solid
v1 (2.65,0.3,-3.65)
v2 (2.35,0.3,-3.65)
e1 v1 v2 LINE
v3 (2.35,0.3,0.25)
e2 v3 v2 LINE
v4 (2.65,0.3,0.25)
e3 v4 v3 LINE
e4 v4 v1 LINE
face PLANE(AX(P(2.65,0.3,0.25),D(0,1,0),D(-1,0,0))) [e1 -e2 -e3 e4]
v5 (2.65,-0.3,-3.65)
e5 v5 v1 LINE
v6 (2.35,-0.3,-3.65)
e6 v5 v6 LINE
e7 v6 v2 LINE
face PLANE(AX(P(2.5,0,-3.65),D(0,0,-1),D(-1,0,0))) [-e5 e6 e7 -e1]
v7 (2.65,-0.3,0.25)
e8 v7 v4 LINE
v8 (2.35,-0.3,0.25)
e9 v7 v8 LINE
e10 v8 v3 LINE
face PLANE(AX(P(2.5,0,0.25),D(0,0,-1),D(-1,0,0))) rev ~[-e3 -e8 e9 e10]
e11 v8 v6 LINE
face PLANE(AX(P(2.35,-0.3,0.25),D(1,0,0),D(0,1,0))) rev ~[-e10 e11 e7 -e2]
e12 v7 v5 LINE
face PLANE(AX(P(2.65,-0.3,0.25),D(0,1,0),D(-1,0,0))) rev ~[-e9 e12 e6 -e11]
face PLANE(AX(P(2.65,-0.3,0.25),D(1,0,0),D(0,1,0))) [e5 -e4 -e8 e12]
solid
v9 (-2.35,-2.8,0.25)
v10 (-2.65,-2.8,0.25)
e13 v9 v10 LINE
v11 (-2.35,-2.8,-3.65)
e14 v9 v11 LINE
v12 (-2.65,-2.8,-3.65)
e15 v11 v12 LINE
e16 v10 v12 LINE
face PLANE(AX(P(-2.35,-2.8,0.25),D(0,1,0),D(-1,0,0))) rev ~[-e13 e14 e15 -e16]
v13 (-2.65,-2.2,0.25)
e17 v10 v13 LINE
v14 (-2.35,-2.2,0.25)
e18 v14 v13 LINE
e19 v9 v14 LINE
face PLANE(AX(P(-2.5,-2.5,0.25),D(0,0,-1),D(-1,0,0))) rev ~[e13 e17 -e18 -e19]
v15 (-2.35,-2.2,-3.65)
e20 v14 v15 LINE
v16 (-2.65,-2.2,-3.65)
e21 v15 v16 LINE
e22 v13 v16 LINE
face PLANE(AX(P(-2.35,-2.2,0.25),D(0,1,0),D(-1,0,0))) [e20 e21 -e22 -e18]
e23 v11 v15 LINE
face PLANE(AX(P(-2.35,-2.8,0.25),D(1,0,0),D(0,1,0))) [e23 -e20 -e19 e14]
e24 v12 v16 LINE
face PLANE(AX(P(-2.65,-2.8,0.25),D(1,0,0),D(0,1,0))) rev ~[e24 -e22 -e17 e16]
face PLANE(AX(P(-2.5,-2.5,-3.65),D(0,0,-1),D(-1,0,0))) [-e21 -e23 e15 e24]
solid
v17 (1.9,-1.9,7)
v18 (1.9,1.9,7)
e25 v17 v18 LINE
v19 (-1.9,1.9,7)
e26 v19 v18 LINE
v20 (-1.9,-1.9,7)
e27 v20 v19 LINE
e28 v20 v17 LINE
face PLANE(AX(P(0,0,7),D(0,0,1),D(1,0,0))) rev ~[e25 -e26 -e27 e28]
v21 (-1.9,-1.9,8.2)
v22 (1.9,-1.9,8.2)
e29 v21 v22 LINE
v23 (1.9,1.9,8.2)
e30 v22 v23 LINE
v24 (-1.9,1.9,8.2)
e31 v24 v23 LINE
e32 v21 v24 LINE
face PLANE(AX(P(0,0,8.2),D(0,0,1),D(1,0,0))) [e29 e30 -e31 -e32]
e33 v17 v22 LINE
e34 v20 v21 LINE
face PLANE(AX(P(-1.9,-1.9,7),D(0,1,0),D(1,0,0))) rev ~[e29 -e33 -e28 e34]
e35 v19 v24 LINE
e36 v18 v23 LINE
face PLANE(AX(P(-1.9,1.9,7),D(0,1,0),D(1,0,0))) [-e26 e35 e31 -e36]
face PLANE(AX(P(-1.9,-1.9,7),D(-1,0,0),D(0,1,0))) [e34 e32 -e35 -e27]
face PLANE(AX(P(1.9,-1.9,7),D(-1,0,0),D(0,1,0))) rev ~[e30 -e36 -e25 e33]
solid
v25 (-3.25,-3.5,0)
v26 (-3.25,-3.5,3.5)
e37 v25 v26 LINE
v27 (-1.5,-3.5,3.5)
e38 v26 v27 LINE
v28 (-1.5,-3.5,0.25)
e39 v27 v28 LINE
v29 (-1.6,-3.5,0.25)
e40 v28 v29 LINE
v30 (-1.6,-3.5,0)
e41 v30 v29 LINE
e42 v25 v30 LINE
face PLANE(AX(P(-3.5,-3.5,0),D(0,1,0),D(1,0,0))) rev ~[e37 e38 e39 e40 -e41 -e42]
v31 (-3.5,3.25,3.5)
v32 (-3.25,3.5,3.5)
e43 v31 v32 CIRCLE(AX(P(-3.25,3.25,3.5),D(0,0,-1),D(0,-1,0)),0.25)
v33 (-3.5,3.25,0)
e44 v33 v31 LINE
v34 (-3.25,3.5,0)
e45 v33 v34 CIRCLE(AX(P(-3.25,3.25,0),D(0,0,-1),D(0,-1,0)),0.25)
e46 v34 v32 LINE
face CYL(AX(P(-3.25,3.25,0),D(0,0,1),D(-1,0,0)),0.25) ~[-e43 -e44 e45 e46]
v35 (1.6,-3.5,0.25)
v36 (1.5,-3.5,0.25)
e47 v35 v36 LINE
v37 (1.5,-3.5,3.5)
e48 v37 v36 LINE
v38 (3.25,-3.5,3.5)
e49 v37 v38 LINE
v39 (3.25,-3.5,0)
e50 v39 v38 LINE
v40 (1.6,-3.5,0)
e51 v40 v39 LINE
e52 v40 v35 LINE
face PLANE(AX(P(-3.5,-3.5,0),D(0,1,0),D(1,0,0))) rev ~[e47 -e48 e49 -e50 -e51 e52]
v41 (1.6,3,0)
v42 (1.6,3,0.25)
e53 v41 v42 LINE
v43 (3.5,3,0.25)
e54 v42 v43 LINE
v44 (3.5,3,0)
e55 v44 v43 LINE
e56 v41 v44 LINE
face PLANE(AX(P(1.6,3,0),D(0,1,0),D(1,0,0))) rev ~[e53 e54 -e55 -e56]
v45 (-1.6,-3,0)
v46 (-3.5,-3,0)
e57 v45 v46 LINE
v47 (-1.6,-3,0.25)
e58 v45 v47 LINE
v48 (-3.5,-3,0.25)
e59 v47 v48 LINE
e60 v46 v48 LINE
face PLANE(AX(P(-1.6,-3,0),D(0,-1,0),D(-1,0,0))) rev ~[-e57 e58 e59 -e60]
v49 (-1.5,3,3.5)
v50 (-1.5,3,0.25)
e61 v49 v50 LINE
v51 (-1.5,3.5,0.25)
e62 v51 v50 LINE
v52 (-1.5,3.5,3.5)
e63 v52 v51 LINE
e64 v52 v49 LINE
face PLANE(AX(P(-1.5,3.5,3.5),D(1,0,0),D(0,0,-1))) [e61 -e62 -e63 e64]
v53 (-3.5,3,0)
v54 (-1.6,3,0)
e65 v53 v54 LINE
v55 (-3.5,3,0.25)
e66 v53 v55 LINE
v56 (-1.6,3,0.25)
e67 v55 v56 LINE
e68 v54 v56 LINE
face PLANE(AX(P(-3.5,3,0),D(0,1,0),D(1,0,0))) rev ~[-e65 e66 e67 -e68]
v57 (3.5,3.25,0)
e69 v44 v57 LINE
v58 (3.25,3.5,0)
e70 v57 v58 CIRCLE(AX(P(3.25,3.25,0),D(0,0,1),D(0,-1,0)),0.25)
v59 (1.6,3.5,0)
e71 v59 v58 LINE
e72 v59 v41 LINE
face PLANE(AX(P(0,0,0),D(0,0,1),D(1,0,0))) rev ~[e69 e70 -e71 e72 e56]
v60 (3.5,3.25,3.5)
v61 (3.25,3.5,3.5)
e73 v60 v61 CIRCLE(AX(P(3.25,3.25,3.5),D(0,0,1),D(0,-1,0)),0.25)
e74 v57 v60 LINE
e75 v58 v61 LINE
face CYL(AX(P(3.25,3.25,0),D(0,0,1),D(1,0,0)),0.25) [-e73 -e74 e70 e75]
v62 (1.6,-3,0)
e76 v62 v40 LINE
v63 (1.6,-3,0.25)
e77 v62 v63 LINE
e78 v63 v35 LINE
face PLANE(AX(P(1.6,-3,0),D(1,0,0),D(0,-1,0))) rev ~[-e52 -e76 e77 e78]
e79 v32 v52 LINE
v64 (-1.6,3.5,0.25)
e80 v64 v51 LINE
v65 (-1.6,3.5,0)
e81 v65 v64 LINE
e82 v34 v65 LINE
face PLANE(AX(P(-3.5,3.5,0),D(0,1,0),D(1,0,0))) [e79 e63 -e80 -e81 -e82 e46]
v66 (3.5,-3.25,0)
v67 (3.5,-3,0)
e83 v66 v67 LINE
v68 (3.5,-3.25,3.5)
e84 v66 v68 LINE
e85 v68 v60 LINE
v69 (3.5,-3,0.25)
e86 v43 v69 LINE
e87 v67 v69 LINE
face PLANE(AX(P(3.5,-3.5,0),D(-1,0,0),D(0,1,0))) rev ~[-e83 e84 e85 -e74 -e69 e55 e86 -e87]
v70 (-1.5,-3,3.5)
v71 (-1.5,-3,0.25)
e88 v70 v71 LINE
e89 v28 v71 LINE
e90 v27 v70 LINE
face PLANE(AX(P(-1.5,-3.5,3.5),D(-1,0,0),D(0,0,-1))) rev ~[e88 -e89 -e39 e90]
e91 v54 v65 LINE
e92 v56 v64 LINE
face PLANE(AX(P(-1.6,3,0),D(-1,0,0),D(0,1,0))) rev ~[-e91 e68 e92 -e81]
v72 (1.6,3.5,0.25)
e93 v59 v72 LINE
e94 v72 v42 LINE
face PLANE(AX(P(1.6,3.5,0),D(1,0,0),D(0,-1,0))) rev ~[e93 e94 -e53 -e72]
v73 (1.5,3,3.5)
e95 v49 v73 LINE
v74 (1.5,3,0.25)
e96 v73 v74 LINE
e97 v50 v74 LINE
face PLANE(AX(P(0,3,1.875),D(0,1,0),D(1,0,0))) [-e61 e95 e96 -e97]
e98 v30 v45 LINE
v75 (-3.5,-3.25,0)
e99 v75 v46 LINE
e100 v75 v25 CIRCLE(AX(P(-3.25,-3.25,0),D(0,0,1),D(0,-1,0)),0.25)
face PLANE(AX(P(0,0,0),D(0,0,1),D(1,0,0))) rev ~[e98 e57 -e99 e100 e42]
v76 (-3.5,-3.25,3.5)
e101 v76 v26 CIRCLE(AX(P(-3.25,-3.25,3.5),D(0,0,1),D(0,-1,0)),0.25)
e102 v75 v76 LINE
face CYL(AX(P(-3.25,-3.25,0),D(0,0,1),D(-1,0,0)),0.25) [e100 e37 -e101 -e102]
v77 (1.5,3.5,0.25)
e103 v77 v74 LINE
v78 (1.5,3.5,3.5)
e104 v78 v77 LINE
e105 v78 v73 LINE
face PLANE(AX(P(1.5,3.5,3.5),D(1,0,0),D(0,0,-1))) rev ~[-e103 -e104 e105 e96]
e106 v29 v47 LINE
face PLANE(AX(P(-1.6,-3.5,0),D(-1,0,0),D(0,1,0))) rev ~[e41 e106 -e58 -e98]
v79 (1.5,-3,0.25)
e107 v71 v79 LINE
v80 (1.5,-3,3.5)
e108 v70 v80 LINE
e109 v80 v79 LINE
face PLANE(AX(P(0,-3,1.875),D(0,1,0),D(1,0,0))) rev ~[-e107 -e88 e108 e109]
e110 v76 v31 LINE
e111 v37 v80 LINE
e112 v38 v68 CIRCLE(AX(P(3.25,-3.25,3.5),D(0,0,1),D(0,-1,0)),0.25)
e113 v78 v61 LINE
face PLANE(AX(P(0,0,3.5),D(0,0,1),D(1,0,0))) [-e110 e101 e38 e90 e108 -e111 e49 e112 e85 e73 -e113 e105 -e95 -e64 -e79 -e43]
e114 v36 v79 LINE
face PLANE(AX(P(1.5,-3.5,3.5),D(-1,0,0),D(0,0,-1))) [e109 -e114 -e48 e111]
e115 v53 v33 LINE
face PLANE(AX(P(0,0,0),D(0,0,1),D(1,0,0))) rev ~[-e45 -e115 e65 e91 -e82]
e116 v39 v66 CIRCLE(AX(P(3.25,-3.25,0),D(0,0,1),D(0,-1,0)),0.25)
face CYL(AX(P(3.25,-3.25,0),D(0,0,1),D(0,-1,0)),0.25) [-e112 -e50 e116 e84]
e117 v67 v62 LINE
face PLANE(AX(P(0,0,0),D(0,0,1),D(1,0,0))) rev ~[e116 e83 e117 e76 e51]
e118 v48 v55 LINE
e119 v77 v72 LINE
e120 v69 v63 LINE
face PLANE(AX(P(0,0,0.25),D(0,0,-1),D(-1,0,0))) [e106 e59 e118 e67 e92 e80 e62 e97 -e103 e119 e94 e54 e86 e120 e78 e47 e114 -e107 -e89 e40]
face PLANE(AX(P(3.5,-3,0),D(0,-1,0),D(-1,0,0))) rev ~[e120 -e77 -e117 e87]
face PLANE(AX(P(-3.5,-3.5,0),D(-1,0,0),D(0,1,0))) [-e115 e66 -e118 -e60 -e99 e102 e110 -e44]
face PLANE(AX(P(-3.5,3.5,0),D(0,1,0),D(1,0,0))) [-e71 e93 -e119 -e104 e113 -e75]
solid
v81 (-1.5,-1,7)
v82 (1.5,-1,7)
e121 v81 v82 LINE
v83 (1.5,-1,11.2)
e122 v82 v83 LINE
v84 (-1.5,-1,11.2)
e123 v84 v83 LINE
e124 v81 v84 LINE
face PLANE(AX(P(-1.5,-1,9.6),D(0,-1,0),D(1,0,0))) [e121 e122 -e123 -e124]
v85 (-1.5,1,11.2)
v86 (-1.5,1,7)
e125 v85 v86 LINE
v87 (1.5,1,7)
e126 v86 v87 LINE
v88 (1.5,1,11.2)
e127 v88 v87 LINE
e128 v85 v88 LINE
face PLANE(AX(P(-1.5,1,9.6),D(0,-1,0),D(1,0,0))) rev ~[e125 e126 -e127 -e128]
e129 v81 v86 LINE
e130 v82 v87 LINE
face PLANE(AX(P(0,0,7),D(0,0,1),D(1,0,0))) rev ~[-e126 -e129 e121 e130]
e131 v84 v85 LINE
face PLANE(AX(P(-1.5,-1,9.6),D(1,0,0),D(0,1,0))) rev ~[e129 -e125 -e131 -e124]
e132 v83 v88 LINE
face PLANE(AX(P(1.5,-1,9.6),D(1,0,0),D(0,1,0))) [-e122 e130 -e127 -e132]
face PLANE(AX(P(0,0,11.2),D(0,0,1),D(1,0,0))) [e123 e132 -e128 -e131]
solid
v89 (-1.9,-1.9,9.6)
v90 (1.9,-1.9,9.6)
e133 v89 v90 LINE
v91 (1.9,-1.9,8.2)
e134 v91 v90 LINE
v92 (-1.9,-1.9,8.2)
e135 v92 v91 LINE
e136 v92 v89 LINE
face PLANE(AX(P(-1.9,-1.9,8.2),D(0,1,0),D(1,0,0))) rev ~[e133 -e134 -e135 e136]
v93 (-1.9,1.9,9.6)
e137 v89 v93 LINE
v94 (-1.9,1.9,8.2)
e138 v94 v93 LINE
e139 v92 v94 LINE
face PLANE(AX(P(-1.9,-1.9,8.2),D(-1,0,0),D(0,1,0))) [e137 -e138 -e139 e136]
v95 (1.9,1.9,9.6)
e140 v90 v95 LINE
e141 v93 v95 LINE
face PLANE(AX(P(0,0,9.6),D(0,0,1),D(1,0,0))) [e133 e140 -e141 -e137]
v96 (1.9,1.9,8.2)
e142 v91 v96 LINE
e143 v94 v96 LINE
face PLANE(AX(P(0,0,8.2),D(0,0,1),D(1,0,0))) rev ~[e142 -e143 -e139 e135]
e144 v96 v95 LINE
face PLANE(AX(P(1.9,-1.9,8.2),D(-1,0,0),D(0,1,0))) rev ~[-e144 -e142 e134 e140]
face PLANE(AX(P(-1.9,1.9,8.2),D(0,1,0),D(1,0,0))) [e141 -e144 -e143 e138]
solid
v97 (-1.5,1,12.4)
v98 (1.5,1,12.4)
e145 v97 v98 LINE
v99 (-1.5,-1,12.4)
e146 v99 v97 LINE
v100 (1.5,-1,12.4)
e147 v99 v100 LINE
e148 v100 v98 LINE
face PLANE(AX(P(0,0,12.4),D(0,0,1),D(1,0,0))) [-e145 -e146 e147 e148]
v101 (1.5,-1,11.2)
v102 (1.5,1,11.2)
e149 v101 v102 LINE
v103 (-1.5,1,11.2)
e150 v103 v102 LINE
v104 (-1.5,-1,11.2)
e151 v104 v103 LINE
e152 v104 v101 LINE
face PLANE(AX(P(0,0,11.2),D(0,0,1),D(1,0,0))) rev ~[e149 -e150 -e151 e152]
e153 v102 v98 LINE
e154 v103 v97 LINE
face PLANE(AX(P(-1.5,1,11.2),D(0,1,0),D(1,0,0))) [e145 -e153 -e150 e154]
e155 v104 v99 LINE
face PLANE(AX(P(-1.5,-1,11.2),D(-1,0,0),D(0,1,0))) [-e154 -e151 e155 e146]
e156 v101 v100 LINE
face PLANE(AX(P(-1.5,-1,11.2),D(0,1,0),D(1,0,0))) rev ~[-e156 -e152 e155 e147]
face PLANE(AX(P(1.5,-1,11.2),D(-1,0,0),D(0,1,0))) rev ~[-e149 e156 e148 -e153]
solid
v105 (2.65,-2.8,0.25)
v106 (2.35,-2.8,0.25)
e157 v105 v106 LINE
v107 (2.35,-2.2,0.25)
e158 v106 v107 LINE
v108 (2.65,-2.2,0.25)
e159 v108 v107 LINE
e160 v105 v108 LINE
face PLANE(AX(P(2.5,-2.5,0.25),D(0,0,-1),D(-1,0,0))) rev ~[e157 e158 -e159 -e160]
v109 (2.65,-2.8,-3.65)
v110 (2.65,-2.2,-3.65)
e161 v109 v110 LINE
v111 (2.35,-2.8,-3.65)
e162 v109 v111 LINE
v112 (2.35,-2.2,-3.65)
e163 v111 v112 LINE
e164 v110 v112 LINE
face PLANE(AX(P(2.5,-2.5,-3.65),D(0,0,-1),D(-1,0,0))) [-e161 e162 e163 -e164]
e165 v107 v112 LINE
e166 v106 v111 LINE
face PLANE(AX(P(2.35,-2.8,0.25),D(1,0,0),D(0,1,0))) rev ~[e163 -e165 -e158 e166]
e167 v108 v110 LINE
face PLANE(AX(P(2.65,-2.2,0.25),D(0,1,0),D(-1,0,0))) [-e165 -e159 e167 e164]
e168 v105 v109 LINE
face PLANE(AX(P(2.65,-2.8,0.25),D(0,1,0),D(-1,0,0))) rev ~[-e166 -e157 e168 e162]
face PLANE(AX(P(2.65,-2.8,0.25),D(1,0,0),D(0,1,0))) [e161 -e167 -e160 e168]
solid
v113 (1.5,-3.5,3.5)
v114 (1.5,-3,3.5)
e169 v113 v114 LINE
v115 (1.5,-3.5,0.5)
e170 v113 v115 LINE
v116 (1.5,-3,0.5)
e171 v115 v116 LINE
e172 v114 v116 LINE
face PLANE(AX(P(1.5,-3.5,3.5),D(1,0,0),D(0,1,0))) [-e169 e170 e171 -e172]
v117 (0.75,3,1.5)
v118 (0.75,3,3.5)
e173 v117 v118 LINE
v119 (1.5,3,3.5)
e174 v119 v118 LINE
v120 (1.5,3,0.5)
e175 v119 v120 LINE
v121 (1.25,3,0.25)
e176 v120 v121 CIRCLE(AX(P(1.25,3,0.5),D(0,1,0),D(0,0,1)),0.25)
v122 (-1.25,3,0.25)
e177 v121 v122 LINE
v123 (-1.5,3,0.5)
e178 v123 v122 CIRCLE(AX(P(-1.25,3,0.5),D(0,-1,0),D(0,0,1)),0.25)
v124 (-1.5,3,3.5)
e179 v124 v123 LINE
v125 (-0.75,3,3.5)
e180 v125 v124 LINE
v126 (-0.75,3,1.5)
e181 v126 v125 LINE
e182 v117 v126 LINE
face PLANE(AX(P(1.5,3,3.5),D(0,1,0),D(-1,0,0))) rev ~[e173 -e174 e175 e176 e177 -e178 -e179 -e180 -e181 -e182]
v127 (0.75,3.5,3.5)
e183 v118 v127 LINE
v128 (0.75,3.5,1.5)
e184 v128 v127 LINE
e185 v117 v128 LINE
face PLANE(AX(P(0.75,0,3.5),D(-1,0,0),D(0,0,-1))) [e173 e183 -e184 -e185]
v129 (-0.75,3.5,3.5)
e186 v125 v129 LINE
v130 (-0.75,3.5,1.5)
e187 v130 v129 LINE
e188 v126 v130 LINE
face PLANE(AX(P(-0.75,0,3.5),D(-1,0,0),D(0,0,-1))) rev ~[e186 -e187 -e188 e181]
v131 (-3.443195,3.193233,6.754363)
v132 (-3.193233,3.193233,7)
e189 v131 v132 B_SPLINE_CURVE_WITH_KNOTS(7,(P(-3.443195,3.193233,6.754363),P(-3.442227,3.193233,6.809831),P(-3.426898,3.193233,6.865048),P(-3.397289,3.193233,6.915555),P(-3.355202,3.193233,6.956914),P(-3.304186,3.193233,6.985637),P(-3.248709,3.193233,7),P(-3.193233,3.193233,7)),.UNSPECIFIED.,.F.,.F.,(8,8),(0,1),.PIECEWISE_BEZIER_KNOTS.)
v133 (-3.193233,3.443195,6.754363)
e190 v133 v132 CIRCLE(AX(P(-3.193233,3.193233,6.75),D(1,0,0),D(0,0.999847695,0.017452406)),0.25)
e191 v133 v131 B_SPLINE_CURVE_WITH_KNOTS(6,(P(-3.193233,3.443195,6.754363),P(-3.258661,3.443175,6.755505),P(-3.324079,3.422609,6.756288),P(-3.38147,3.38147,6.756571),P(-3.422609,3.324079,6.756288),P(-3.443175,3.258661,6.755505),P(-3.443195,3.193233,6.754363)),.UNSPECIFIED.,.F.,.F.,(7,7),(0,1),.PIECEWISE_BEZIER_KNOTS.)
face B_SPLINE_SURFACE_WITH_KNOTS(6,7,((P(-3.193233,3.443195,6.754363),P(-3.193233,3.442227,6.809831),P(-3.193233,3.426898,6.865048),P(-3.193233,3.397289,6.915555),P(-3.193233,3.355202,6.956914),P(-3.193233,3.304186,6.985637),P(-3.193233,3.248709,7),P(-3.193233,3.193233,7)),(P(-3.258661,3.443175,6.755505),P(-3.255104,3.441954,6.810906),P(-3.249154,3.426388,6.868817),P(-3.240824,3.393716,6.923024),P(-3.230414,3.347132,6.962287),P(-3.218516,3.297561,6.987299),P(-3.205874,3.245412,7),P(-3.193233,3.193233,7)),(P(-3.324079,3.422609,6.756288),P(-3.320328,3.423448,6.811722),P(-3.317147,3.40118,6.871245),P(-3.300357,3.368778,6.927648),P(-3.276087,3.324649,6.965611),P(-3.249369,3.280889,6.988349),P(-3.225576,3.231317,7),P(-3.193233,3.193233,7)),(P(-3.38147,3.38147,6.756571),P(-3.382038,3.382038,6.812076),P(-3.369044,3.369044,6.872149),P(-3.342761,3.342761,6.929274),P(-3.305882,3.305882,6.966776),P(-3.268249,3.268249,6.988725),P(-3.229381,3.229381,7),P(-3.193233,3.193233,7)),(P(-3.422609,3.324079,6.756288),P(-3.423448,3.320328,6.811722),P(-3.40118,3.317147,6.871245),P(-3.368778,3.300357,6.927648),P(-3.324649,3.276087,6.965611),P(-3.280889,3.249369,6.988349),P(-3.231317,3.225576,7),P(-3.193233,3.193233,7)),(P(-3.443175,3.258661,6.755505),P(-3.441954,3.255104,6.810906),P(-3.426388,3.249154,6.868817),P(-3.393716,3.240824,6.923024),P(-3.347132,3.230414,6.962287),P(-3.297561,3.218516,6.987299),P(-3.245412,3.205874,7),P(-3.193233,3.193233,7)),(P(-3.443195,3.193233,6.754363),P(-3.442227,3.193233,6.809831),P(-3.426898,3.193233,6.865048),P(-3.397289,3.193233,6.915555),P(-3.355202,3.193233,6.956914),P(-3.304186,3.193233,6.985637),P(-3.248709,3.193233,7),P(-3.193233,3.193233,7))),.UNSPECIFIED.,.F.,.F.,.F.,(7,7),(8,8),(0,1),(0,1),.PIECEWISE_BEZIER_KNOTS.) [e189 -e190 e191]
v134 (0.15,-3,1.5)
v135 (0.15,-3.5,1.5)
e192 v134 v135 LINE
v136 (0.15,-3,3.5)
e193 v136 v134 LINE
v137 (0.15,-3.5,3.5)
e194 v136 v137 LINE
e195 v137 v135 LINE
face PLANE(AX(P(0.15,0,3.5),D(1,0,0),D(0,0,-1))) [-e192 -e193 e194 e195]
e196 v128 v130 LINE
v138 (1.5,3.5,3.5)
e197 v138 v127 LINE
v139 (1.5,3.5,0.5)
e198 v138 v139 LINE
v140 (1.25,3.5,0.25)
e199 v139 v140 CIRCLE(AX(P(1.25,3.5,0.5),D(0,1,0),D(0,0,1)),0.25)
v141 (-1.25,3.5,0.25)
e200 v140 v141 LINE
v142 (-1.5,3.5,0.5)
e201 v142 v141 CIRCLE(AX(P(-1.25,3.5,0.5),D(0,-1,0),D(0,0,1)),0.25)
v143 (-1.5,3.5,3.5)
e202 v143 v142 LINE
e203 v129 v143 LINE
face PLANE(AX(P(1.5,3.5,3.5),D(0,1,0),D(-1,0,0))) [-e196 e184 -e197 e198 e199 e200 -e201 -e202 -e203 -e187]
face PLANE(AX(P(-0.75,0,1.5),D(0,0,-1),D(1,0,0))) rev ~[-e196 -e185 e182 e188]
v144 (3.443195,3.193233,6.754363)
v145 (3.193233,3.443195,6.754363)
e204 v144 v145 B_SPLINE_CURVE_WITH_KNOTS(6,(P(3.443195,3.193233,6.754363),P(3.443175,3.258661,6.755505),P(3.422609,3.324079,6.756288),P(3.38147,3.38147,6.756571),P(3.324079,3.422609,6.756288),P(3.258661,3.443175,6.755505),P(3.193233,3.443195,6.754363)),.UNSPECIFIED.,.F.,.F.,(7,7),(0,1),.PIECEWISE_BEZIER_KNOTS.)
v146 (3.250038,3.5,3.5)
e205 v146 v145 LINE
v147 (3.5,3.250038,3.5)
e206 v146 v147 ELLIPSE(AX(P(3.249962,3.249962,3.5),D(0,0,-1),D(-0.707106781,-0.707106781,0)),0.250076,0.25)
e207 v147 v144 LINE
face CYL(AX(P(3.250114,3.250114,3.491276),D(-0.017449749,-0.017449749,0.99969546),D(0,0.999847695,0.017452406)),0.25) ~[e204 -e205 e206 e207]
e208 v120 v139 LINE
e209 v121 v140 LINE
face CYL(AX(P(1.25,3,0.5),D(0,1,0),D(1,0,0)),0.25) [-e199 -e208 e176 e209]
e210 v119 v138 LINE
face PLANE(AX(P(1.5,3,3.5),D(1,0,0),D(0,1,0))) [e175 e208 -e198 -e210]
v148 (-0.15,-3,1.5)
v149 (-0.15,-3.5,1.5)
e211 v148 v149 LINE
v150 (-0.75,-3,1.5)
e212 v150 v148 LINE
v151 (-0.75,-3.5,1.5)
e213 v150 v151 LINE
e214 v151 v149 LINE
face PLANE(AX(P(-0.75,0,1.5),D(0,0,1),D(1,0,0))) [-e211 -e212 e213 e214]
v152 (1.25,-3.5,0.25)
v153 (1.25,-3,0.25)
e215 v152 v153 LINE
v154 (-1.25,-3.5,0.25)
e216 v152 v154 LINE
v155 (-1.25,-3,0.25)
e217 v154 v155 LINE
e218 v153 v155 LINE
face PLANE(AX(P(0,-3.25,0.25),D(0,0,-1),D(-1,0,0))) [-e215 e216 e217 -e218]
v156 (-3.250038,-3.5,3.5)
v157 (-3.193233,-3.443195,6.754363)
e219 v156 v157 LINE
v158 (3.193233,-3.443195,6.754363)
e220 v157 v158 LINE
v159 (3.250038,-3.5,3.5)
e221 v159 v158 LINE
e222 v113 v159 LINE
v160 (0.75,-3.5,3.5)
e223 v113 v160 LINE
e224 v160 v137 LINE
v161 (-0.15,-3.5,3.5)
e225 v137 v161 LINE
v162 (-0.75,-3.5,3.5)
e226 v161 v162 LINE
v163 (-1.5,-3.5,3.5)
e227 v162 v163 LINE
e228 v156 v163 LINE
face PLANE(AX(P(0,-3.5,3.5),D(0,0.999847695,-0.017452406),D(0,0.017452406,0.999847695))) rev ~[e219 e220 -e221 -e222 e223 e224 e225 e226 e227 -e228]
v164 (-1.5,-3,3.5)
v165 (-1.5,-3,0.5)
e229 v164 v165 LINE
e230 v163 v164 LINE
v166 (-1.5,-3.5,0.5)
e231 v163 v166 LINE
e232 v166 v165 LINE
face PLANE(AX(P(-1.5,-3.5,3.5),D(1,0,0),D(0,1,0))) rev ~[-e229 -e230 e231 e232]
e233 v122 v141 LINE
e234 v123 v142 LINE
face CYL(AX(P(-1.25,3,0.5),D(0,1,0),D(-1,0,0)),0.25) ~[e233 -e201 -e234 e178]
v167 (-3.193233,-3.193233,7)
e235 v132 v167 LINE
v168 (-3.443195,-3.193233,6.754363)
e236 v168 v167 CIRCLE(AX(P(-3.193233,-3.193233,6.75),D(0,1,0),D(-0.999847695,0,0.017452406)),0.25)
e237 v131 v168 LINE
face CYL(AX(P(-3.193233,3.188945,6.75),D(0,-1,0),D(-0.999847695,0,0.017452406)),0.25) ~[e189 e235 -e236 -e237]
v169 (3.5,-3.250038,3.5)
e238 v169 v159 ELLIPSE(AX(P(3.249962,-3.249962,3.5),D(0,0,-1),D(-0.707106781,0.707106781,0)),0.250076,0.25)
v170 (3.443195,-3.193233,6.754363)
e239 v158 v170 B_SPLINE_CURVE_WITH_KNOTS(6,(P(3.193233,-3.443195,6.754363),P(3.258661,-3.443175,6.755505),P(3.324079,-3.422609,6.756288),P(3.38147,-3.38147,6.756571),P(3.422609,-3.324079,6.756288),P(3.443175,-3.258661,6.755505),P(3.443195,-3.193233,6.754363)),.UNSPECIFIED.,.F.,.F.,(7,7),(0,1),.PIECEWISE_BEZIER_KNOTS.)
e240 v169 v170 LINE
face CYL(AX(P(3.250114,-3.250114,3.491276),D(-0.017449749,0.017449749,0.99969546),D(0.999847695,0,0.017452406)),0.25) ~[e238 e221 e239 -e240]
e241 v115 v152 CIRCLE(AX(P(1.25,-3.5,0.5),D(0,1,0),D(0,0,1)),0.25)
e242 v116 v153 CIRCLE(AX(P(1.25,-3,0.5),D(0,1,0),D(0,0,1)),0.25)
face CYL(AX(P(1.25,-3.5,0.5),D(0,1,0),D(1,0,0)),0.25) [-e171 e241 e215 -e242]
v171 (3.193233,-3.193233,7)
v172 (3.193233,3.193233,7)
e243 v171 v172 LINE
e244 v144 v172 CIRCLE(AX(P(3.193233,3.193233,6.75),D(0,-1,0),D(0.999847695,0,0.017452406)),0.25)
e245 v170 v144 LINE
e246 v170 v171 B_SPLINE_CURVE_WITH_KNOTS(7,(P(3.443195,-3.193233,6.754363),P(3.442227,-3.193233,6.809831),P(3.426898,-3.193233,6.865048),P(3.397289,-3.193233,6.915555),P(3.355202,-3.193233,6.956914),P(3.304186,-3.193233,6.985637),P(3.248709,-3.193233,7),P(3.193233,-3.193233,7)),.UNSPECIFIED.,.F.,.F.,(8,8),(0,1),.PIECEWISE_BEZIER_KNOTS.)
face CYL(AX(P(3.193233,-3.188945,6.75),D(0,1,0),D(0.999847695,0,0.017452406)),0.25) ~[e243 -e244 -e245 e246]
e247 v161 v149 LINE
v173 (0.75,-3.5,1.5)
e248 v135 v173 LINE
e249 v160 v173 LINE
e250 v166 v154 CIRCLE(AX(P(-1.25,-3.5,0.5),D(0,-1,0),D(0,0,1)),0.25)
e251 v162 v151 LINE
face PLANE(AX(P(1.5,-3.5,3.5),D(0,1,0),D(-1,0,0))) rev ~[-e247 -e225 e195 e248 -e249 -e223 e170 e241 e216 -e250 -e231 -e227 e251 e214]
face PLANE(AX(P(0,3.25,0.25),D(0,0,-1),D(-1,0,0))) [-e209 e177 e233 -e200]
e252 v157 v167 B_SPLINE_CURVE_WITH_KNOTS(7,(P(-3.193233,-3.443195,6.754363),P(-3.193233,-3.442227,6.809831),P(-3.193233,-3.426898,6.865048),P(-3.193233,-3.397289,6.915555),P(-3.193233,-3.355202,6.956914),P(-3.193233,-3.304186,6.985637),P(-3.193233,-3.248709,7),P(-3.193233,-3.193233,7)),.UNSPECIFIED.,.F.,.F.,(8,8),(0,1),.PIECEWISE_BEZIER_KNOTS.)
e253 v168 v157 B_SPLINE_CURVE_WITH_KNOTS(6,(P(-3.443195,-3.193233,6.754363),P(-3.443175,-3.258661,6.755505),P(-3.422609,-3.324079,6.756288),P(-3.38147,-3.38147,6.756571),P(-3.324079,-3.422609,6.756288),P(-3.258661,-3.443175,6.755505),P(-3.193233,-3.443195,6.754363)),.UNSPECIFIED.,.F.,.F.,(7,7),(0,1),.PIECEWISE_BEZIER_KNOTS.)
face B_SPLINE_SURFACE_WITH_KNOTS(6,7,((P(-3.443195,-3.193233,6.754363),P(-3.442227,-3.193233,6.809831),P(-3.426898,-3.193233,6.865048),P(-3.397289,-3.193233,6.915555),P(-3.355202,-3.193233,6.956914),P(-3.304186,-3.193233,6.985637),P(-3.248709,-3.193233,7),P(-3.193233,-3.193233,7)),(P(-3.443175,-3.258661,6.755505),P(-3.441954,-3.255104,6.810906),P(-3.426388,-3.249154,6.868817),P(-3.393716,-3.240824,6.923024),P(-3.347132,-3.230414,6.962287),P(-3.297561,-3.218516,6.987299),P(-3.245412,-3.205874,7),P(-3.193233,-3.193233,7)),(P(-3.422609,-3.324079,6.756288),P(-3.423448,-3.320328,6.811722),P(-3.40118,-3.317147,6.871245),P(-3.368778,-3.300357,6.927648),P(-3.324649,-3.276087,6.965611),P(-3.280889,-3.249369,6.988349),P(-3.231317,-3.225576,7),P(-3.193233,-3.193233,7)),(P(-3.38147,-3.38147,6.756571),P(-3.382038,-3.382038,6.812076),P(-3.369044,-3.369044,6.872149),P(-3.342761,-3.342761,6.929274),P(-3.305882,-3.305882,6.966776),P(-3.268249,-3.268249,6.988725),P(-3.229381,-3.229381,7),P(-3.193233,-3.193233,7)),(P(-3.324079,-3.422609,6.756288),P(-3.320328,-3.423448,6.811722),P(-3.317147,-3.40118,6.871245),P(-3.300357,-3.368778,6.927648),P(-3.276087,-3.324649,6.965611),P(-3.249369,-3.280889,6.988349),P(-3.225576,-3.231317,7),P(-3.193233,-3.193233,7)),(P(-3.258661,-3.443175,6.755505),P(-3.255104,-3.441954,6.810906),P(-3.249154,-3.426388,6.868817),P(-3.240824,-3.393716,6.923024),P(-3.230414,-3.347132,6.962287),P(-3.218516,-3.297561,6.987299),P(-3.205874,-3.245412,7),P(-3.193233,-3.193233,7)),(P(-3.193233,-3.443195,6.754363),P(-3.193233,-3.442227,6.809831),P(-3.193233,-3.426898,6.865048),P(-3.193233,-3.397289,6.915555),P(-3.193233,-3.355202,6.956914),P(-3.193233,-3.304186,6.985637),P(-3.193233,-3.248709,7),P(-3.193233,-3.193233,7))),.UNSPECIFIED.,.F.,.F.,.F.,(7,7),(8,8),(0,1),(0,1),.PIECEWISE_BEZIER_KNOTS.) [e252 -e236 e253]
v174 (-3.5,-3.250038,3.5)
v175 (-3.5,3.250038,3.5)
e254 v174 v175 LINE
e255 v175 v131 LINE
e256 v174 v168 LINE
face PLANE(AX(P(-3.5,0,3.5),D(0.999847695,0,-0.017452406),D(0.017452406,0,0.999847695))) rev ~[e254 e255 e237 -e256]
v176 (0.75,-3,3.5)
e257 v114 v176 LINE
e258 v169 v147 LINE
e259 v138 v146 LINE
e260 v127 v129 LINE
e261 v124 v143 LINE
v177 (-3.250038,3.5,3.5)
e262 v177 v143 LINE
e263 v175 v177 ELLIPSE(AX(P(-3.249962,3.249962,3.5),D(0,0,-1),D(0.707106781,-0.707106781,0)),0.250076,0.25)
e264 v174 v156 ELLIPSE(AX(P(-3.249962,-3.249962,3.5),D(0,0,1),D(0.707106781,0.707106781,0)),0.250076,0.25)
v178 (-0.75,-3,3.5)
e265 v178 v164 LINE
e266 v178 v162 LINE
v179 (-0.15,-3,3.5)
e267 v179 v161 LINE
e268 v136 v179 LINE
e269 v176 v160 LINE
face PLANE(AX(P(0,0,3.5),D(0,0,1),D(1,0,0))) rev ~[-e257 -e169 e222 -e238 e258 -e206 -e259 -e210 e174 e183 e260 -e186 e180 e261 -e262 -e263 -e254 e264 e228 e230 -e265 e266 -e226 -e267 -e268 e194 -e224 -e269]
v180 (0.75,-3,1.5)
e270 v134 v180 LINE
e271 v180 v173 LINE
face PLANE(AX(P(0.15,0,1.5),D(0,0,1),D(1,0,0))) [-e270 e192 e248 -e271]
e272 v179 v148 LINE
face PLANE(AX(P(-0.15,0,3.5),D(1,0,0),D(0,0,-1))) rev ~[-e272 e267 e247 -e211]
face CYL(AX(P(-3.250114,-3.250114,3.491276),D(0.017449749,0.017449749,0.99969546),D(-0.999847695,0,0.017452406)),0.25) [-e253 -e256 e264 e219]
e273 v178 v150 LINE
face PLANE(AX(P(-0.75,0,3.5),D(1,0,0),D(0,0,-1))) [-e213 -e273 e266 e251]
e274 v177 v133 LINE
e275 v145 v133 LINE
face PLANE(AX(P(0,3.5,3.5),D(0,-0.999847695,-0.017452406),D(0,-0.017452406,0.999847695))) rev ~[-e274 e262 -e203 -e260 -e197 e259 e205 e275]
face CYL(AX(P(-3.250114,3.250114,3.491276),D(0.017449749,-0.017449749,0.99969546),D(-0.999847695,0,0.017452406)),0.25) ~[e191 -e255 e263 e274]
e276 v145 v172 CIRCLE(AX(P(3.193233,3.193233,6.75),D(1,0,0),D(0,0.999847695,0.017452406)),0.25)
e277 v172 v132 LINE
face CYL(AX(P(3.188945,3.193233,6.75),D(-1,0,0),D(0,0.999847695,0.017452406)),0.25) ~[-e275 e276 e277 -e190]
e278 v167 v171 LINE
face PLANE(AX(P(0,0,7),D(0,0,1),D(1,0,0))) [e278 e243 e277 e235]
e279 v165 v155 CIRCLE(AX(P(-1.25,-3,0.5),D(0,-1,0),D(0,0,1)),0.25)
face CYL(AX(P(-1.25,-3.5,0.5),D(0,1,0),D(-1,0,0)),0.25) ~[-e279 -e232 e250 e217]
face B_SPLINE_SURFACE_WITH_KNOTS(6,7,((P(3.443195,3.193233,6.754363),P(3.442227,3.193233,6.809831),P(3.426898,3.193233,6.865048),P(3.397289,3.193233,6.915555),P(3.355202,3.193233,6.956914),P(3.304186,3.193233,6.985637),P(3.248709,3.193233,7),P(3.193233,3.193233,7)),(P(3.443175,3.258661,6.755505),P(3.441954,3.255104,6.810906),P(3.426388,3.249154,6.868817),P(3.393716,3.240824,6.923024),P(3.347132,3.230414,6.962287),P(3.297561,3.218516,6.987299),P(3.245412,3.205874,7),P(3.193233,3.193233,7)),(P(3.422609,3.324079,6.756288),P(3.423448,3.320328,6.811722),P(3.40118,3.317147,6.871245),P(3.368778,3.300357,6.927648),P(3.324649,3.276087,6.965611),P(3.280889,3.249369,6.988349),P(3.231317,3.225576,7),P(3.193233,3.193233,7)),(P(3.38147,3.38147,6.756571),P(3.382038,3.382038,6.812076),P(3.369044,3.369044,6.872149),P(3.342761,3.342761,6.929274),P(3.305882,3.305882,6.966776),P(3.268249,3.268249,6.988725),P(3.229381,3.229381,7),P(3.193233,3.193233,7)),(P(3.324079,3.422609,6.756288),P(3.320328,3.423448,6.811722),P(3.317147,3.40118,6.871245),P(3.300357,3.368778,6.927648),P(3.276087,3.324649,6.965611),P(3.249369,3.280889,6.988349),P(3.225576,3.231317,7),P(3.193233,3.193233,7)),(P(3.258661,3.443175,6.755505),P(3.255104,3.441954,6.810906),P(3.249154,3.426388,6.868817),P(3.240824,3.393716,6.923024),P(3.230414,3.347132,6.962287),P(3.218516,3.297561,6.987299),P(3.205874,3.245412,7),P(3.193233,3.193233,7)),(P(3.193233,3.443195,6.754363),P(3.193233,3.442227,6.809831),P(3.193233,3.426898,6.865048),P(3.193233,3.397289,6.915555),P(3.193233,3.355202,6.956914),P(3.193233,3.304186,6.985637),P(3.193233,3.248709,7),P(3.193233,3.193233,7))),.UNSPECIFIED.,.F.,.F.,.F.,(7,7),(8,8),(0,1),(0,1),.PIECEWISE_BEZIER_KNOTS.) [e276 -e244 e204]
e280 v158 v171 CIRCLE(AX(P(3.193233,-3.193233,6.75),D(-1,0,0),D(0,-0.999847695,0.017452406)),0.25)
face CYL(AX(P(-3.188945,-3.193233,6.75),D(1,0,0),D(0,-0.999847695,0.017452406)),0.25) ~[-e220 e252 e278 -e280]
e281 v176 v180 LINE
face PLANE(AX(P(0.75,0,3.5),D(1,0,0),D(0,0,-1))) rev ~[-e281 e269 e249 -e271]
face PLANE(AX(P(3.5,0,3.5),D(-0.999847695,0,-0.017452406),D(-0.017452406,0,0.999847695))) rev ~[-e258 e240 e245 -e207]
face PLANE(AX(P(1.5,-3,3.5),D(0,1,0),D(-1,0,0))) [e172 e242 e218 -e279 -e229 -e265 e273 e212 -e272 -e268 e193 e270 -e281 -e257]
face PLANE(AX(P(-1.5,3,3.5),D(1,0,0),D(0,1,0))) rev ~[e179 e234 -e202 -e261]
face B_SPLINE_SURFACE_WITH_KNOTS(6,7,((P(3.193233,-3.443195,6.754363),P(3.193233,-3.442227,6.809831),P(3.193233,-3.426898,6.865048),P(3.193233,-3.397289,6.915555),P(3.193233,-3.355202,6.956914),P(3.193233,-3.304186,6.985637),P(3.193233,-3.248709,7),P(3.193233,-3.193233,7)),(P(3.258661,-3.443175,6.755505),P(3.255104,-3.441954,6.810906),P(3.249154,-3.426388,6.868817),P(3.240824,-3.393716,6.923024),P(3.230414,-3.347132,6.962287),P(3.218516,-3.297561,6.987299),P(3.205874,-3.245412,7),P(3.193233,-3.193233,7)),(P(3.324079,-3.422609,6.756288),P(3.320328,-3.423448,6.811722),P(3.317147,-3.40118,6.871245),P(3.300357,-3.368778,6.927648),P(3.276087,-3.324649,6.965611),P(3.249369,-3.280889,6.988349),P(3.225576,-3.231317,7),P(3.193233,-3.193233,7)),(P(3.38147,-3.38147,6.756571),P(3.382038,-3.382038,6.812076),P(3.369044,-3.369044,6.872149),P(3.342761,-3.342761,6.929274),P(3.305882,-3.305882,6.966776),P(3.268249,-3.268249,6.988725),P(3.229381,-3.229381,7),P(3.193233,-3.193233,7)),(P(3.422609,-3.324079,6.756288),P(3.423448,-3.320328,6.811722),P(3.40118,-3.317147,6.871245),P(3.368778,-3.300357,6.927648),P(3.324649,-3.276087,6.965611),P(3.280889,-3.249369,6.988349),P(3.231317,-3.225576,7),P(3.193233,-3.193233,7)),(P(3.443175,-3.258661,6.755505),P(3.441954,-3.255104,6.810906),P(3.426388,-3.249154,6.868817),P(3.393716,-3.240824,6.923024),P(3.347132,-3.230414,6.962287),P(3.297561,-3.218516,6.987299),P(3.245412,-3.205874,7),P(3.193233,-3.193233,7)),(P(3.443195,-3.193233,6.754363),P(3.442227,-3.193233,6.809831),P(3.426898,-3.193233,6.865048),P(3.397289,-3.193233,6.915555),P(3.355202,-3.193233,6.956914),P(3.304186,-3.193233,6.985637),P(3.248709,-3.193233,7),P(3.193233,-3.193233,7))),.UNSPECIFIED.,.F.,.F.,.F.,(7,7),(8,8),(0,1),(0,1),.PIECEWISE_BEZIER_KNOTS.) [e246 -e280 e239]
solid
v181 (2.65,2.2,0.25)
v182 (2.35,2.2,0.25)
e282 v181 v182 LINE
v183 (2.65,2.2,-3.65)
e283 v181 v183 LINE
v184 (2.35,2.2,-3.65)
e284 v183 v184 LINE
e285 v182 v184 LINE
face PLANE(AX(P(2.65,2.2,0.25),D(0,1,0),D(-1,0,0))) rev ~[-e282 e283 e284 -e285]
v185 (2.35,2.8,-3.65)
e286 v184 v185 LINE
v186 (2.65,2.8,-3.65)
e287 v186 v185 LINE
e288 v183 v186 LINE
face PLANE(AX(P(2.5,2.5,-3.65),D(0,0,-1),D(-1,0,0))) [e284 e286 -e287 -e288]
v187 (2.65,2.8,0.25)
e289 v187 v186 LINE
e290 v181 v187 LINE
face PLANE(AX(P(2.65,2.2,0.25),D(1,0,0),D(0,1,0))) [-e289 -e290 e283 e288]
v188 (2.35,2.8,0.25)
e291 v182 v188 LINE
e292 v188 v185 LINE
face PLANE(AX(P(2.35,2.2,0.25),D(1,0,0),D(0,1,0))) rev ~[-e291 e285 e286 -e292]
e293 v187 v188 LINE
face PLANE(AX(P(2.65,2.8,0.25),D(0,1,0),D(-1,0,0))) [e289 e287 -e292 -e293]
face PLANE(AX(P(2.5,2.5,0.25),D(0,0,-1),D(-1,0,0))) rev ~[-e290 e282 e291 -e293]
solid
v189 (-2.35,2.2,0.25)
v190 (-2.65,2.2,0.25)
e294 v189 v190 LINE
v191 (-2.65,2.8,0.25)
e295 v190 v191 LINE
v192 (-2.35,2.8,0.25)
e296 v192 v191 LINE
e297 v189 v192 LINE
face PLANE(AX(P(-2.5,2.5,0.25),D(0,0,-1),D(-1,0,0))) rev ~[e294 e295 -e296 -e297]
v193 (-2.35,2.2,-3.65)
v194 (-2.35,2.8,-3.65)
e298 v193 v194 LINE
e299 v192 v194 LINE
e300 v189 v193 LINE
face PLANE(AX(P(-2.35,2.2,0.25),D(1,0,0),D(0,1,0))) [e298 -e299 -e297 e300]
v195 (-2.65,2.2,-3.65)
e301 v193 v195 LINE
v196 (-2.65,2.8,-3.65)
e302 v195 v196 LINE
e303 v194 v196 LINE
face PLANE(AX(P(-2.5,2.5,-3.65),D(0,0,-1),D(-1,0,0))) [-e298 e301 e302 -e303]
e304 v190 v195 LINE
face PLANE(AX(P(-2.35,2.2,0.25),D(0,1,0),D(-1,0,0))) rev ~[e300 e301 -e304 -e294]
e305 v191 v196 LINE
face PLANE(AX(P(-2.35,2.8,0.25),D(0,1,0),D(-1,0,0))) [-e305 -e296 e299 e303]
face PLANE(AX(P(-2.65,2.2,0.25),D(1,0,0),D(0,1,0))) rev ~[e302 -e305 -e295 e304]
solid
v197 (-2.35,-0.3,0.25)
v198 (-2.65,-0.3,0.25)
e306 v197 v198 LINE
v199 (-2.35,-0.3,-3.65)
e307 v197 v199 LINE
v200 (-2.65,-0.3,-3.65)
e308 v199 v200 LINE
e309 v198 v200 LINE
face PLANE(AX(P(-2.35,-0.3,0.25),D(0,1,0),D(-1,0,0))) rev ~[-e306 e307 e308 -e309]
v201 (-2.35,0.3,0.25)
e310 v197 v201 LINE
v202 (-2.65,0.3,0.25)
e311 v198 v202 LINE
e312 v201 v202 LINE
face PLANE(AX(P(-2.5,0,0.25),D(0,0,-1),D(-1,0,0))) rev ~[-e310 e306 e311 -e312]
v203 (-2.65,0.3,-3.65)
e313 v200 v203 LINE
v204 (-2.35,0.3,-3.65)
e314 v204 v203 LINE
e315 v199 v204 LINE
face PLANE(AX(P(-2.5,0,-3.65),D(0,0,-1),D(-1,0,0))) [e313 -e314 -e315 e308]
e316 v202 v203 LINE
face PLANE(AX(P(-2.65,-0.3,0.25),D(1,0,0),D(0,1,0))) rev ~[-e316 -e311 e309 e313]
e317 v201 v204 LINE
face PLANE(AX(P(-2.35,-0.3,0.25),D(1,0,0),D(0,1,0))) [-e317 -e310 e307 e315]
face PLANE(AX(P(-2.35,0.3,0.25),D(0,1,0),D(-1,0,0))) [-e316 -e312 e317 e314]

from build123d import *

# Parameters (mm, degrees)
ESQUISSE1_W             = 7
ESQUISSE1_H             = 7
BOSS_EXTRU_1_DEPTH      = 3.5
ENL_V_MAT_EXTRU_1_DEPTH = 0.25
ESQUISSE3_W             = 3
ESQUISSE3_H             = 3.25
ENL_V_MAT_EXTRU_2_DEPTH = 0.5
ENL_V_START             = -7
ESQUISSE3_2_W           = 3
ESQUISSE3_2_H           = 3.25
ENL_V_MAT_EXTRU_3_DEPTH = 0.5
ESQUISSE4_W             = 7
ESQUISSE4_H             = 7
BOSS_EXTRU_2_DEPTH      = 3.5
BOSS_EXTRU_2_TAPER      = 1
ESQUISSE5_W             = 3
ESQUISSE5_H             = 0.5
BOSS_EXTRU_3_DEPTH      = 3.25
ESQUISSE8_W             = 1.5
ESQUISSE8_H             = 2
ENL_V_MAT_EXTRU_4_DEPTH = 4.5
ESQUISSE8_3_W           = 0.6
ESQUISSE8_3_H           = 2
ENL_V_MAT_EXTRU_5_DEPTH = 4.5
CONG_1_R                = 0.25
CONG_2_R                = 0.25
CONG_3_R                = 0.25
CONG_4_R                = 0.25
ESQUISSE6_W             = 3.8
ESQUISSE6_H             = 3.8
BOSS_EXTRU_4_DEPTH      = 1.2
BOSS_EXTRU_5_START      = 1.2
ESQUISSE6_3_W           = 3.8
ESQUISSE6_3_H           = 3.8
BOSS_EXTRU_5_DEPTH      = 1.4
ESQUISSE7_W             = 3
ESQUISSE7_H             = 2
BOSS_EXTRU_6_DEPTH      = 1.6
BOSS_EXTRU_6_DEPTH_BACK = 2.6
BOSS_EXTRU_7_START      = 1.6
ESQUISSE7_2_W           = 3
ESQUISSE7_2_H           = 2
BOSS_EXTRU_7_DEPTH      = 1.2
ESQUISSE9_W             = 0.3
ESQUISSE9_H             = 0.6
BOSS_EXTRU_8_DEPTH      = 3.9
BOSS_EXTRU_8_2_DEPTH    = 3.9
BOSS_EXTRU_8_3_DEPTH    = 3.9
BOSS_EXTRU_8_4_DEPTH    = 3.9
BOSS_EXTRU_8_5_DEPTH    = 3.9
BOSS_EXTRU_8_6_DEPTH    = 3.9


with BuildPart() as part:
    # Esquisse1 → Boss.-Extru.1 (new body)
    with BuildSketch(Plane.XY):
        Rectangle(ESQUISSE1_W, ESQUISSE1_H)
    extrude(amount=BOSS_EXTRU_1_DEPTH)

    # Esquisse2 → Enl_v. mat.-Extru.1 (cut)
    with BuildSketch(Plane(origin=(0, 0, 0), x_dir=(-1, 0, 0), z_dir=(0, 0, -1))):
        Polygon((1.6, 3.5), (-1.6, 3.5), (-1.6, 3), (-3.5, 3), (-3.5, -3), (-1.6, -3), (-1.6, -3.5), (1.6, -3.5), (1.6, -3), (3.5, -3), (3.5, 3), (1.6, 3), align=None)
    extrude(amount=-ENL_V_MAT_EXTRU_1_DEPTH, mode=Mode.SUBTRACT)

    # Esquisse3 → Enl_v. mat.-Extru.2 (cut)
    with BuildSketch(Plane(origin=(0, 3.5, 0), x_dir=(1, 0, 0), z_dir=(0, 1, 0))):
        with Locations((0, -1.875)):
            Rectangle(ESQUISSE3_W, ESQUISSE3_H)
    extrude(amount=-ENL_V_MAT_EXTRU_2_DEPTH, mode=Mode.SUBTRACT)

    # Esquisse3_2 → Enl_v. mat.-Extru.3 (cut)
    with BuildSketch(Plane(origin=(0, 3.5, 0), x_dir=(1, 0, 0), z_dir=(0, 1, 0)).offset(ENL_V_START)):
        with Locations((0, -1.875)):
            Rectangle(ESQUISSE3_2_W, ESQUISSE3_2_H)
    extrude(amount=ENL_V_MAT_EXTRU_3_DEPTH, mode=Mode.SUBTRACT)

    # Cong_1
    cong_1_edges = [part.edges().sort_by_distance(p)[0] for p in [
        (3.5, -3.5, 1.75),
        (-3.5, -3.5, 1.75),
        (-3.5, 3.5, 1.75),
        (3.5, 3.5, 1.75),
    ]]
    fillet(cong_1_edges, radius=CONG_1_R)


with BuildPart() as body_2:
    # Esquisse4 → Boss.-Extru.2 (new body)
    with BuildSketch(Plane.XY.offset(3.5)):
        Rectangle(ESQUISSE4_W, ESQUISSE4_H)
    extrude(amount=BOSS_EXTRU_2_DEPTH, taper=BOSS_EXTRU_2_TAPER)

    # Esquisse5 → Boss.-Extru.3 (add)
    with BuildSketch(Plane(origin=(0, 0, 3.5), x_dir=(-1, 0, 0), z_dir=(0, 0, -1))):
        with Locations((0, 3.25)):
            Rectangle(ESQUISSE5_W, ESQUISSE5_H)
        with Locations((0, -3.25)):
            Rectangle(ESQUISSE5_W, ESQUISSE5_H)
    extrude(amount=BOSS_EXTRU_3_DEPTH)

    # Esquisse8 → Enl_v. mat.-Extru.4 (cut, through all)
    with BuildSketch(Plane(origin=(0, 0, 0), x_dir=(1, 0, 0), z_dir=(0, 1, 0))):
        with Locations((0, -2.5)):
            Rectangle(ESQUISSE8_W, ESQUISSE8_H)
    extrude(amount=ENL_V_MAT_EXTRU_4_DEPTH, mode=Mode.SUBTRACT)

    # Esquisse8_3 → Enl_v. mat.-Extru.5 (cut, through all)
    with BuildSketch(Plane(origin=(0, 0, 0), x_dir=(1, 0, 0), z_dir=(0, 1, 0))):
        with Locations((0.45, -2.5)):
            Rectangle(ESQUISSE8_3_W, ESQUISSE8_3_H)
        with Locations((-0.45, -2.5)):
            Rectangle(ESQUISSE8_3_W, ESQUISSE8_3_H)
    extrude(amount=-ENL_V_MAT_EXTRU_5_DEPTH, mode=Mode.SUBTRACT)

    # Cong_2
    cong_2_edges = [body_2.edges().sort_by_distance(p)[0] for p in [
        (-3.469453636, 3.469453636, 5.25),
        (3.469453636, 3.469453636, 5.25),
        (3.469453636, -3.469453636, 5.25),
        (-3.469453636, -3.469453636, 5.25),
    ]]
    fillet(cong_2_edges, radius=CONG_2_R)

    # Cong_3
    cong_3_edges = [body_2.edges().sort_by_distance(p)[0] for p in [
        (0, 3.438907273, 7),
        (3.438907273, 0, 7),
        (-3.438907273, 0, 7),
        (0, -3.438907273, 7),
        (-3.365699738, 3.365699738, 7),
        (-3.365699738, -3.365699738, 7),
        (3.365699738, -3.365699738, 7),
        (3.365699738, 3.365699738, 7),
    ]]
    fillet(cong_3_edges, radius=CONG_3_R)

    # Cong_4
    cong_4_edges = [body_2.edges().sort_by_distance(p)[0] for p in [
        (1.5, 3.25, 0.25),
        (-1.5, 3.25, 0.25),
        (1.5, -3.25, 0.25),
        (-1.5, -3.25, 0.25),
    ]]
    fillet(cong_4_edges, radius=CONG_4_R)


with BuildPart() as body_3:
    # Esquisse6 → Boss.-Extru.4 (new body)
    with BuildSketch(Plane.XY.offset(7)):
        Rectangle(ESQUISSE6_W, ESQUISSE6_H)
    extrude(amount=BOSS_EXTRU_4_DEPTH)


with BuildPart() as body_4:
    # Esquisse6_3 → Boss.-Extru.5 (new body)
    with BuildSketch(Plane.XY.offset(7).offset(BOSS_EXTRU_5_START)):
        Rectangle(ESQUISSE6_3_W, ESQUISSE6_3_H)
    extrude(amount=BOSS_EXTRU_5_DEPTH)


with BuildPart() as body_5:
    # Esquisse7 → Boss.-Extru.6 (new body, two sides)
    with BuildSketch(Plane.XY.offset(9.6)) as boss_extru_6_sk:
        Rectangle(ESQUISSE7_W, ESQUISSE7_H)
    extrude(amount=BOSS_EXTRU_6_DEPTH)
    extrude(boss_extru_6_sk.sketch, amount=-BOSS_EXTRU_6_DEPTH_BACK)


with BuildPart() as body_6:
    # Esquisse7_2 → Boss.-Extru.7 (new body)
    with BuildSketch(Plane.XY.offset(9.6).offset(BOSS_EXTRU_7_START)):
        Rectangle(ESQUISSE7_2_W, ESQUISSE7_2_H)
    extrude(amount=BOSS_EXTRU_7_DEPTH)


with BuildPart() as body_7:
    # Esquisse9 → Boss.-Extru.8 (new body)
    with BuildSketch(Plane(origin=(0, 0, 0.25), x_dir=(-1, 0, 0), z_dir=(0, 0, -1))):
        with Locations((2.5, -2.5)):
            Rectangle(ESQUISSE9_W, ESQUISSE9_H)
    extrude(amount=BOSS_EXTRU_8_DEPTH)


with BuildPart() as body_8:
    # Esquisse9 → Boss.-Extru.8 2 (new body)
    with BuildSketch(Plane(origin=(0, 0, 0.25), x_dir=(-1, 0, 0), z_dir=(0, 0, -1))):
        with Locations((2.5, 0)):
            Rectangle(ESQUISSE9_W, ESQUISSE9_H)
    extrude(amount=BOSS_EXTRU_8_2_DEPTH)


with BuildPart() as body_9:
    # Esquisse9 → Boss.-Extru.8 3 (new body)
    with BuildSketch(Plane(origin=(0, 0, 0.25), x_dir=(-1, 0, 0), z_dir=(0, 0, -1))):
        with Locations((2.5, 2.5)):
            Rectangle(ESQUISSE9_W, ESQUISSE9_H)
    extrude(amount=BOSS_EXTRU_8_3_DEPTH)


with BuildPart() as body_10:
    # Esquisse9 → Boss.-Extru.8 4 (new body)
    with BuildSketch(Plane(origin=(0, 0, 0.25), x_dir=(-1, 0, 0), z_dir=(0, 0, -1))):
        with Locations((-2.5, 2.5)):
            Rectangle(ESQUISSE9_W, ESQUISSE9_H)
    extrude(amount=BOSS_EXTRU_8_4_DEPTH)


with BuildPart() as body_11:
    # Esquisse9 → Boss.-Extru.8 5 (new body)
    with BuildSketch(Plane(origin=(0, 0, 0.25), x_dir=(-1, 0, 0), z_dir=(0, 0, -1))):
        with Locations((-2.5, 0)):
            Rectangle(ESQUISSE9_W, ESQUISSE9_H)
    extrude(amount=BOSS_EXTRU_8_5_DEPTH)


with BuildPart() as body_12:
    # Esquisse9 → Boss.-Extru.8 6 (new body)
    with BuildSketch(Plane(origin=(0, 0, 0.25), x_dir=(-1, 0, 0), z_dir=(0, 0, -1))):
        with Locations((-2.5, -2.5)):
            Rectangle(ESQUISSE9_W, ESQUISSE9_H)
    extrude(amount=BOSS_EXTRU_8_6_DEPTH)


solid = Compound([part.part, body_2.part, body_3.part, body_4.part, body_5.part, body_6.part, body_7.part, body_8.part, body_9.part, body_10.part, body_11.part, body_12.part])
